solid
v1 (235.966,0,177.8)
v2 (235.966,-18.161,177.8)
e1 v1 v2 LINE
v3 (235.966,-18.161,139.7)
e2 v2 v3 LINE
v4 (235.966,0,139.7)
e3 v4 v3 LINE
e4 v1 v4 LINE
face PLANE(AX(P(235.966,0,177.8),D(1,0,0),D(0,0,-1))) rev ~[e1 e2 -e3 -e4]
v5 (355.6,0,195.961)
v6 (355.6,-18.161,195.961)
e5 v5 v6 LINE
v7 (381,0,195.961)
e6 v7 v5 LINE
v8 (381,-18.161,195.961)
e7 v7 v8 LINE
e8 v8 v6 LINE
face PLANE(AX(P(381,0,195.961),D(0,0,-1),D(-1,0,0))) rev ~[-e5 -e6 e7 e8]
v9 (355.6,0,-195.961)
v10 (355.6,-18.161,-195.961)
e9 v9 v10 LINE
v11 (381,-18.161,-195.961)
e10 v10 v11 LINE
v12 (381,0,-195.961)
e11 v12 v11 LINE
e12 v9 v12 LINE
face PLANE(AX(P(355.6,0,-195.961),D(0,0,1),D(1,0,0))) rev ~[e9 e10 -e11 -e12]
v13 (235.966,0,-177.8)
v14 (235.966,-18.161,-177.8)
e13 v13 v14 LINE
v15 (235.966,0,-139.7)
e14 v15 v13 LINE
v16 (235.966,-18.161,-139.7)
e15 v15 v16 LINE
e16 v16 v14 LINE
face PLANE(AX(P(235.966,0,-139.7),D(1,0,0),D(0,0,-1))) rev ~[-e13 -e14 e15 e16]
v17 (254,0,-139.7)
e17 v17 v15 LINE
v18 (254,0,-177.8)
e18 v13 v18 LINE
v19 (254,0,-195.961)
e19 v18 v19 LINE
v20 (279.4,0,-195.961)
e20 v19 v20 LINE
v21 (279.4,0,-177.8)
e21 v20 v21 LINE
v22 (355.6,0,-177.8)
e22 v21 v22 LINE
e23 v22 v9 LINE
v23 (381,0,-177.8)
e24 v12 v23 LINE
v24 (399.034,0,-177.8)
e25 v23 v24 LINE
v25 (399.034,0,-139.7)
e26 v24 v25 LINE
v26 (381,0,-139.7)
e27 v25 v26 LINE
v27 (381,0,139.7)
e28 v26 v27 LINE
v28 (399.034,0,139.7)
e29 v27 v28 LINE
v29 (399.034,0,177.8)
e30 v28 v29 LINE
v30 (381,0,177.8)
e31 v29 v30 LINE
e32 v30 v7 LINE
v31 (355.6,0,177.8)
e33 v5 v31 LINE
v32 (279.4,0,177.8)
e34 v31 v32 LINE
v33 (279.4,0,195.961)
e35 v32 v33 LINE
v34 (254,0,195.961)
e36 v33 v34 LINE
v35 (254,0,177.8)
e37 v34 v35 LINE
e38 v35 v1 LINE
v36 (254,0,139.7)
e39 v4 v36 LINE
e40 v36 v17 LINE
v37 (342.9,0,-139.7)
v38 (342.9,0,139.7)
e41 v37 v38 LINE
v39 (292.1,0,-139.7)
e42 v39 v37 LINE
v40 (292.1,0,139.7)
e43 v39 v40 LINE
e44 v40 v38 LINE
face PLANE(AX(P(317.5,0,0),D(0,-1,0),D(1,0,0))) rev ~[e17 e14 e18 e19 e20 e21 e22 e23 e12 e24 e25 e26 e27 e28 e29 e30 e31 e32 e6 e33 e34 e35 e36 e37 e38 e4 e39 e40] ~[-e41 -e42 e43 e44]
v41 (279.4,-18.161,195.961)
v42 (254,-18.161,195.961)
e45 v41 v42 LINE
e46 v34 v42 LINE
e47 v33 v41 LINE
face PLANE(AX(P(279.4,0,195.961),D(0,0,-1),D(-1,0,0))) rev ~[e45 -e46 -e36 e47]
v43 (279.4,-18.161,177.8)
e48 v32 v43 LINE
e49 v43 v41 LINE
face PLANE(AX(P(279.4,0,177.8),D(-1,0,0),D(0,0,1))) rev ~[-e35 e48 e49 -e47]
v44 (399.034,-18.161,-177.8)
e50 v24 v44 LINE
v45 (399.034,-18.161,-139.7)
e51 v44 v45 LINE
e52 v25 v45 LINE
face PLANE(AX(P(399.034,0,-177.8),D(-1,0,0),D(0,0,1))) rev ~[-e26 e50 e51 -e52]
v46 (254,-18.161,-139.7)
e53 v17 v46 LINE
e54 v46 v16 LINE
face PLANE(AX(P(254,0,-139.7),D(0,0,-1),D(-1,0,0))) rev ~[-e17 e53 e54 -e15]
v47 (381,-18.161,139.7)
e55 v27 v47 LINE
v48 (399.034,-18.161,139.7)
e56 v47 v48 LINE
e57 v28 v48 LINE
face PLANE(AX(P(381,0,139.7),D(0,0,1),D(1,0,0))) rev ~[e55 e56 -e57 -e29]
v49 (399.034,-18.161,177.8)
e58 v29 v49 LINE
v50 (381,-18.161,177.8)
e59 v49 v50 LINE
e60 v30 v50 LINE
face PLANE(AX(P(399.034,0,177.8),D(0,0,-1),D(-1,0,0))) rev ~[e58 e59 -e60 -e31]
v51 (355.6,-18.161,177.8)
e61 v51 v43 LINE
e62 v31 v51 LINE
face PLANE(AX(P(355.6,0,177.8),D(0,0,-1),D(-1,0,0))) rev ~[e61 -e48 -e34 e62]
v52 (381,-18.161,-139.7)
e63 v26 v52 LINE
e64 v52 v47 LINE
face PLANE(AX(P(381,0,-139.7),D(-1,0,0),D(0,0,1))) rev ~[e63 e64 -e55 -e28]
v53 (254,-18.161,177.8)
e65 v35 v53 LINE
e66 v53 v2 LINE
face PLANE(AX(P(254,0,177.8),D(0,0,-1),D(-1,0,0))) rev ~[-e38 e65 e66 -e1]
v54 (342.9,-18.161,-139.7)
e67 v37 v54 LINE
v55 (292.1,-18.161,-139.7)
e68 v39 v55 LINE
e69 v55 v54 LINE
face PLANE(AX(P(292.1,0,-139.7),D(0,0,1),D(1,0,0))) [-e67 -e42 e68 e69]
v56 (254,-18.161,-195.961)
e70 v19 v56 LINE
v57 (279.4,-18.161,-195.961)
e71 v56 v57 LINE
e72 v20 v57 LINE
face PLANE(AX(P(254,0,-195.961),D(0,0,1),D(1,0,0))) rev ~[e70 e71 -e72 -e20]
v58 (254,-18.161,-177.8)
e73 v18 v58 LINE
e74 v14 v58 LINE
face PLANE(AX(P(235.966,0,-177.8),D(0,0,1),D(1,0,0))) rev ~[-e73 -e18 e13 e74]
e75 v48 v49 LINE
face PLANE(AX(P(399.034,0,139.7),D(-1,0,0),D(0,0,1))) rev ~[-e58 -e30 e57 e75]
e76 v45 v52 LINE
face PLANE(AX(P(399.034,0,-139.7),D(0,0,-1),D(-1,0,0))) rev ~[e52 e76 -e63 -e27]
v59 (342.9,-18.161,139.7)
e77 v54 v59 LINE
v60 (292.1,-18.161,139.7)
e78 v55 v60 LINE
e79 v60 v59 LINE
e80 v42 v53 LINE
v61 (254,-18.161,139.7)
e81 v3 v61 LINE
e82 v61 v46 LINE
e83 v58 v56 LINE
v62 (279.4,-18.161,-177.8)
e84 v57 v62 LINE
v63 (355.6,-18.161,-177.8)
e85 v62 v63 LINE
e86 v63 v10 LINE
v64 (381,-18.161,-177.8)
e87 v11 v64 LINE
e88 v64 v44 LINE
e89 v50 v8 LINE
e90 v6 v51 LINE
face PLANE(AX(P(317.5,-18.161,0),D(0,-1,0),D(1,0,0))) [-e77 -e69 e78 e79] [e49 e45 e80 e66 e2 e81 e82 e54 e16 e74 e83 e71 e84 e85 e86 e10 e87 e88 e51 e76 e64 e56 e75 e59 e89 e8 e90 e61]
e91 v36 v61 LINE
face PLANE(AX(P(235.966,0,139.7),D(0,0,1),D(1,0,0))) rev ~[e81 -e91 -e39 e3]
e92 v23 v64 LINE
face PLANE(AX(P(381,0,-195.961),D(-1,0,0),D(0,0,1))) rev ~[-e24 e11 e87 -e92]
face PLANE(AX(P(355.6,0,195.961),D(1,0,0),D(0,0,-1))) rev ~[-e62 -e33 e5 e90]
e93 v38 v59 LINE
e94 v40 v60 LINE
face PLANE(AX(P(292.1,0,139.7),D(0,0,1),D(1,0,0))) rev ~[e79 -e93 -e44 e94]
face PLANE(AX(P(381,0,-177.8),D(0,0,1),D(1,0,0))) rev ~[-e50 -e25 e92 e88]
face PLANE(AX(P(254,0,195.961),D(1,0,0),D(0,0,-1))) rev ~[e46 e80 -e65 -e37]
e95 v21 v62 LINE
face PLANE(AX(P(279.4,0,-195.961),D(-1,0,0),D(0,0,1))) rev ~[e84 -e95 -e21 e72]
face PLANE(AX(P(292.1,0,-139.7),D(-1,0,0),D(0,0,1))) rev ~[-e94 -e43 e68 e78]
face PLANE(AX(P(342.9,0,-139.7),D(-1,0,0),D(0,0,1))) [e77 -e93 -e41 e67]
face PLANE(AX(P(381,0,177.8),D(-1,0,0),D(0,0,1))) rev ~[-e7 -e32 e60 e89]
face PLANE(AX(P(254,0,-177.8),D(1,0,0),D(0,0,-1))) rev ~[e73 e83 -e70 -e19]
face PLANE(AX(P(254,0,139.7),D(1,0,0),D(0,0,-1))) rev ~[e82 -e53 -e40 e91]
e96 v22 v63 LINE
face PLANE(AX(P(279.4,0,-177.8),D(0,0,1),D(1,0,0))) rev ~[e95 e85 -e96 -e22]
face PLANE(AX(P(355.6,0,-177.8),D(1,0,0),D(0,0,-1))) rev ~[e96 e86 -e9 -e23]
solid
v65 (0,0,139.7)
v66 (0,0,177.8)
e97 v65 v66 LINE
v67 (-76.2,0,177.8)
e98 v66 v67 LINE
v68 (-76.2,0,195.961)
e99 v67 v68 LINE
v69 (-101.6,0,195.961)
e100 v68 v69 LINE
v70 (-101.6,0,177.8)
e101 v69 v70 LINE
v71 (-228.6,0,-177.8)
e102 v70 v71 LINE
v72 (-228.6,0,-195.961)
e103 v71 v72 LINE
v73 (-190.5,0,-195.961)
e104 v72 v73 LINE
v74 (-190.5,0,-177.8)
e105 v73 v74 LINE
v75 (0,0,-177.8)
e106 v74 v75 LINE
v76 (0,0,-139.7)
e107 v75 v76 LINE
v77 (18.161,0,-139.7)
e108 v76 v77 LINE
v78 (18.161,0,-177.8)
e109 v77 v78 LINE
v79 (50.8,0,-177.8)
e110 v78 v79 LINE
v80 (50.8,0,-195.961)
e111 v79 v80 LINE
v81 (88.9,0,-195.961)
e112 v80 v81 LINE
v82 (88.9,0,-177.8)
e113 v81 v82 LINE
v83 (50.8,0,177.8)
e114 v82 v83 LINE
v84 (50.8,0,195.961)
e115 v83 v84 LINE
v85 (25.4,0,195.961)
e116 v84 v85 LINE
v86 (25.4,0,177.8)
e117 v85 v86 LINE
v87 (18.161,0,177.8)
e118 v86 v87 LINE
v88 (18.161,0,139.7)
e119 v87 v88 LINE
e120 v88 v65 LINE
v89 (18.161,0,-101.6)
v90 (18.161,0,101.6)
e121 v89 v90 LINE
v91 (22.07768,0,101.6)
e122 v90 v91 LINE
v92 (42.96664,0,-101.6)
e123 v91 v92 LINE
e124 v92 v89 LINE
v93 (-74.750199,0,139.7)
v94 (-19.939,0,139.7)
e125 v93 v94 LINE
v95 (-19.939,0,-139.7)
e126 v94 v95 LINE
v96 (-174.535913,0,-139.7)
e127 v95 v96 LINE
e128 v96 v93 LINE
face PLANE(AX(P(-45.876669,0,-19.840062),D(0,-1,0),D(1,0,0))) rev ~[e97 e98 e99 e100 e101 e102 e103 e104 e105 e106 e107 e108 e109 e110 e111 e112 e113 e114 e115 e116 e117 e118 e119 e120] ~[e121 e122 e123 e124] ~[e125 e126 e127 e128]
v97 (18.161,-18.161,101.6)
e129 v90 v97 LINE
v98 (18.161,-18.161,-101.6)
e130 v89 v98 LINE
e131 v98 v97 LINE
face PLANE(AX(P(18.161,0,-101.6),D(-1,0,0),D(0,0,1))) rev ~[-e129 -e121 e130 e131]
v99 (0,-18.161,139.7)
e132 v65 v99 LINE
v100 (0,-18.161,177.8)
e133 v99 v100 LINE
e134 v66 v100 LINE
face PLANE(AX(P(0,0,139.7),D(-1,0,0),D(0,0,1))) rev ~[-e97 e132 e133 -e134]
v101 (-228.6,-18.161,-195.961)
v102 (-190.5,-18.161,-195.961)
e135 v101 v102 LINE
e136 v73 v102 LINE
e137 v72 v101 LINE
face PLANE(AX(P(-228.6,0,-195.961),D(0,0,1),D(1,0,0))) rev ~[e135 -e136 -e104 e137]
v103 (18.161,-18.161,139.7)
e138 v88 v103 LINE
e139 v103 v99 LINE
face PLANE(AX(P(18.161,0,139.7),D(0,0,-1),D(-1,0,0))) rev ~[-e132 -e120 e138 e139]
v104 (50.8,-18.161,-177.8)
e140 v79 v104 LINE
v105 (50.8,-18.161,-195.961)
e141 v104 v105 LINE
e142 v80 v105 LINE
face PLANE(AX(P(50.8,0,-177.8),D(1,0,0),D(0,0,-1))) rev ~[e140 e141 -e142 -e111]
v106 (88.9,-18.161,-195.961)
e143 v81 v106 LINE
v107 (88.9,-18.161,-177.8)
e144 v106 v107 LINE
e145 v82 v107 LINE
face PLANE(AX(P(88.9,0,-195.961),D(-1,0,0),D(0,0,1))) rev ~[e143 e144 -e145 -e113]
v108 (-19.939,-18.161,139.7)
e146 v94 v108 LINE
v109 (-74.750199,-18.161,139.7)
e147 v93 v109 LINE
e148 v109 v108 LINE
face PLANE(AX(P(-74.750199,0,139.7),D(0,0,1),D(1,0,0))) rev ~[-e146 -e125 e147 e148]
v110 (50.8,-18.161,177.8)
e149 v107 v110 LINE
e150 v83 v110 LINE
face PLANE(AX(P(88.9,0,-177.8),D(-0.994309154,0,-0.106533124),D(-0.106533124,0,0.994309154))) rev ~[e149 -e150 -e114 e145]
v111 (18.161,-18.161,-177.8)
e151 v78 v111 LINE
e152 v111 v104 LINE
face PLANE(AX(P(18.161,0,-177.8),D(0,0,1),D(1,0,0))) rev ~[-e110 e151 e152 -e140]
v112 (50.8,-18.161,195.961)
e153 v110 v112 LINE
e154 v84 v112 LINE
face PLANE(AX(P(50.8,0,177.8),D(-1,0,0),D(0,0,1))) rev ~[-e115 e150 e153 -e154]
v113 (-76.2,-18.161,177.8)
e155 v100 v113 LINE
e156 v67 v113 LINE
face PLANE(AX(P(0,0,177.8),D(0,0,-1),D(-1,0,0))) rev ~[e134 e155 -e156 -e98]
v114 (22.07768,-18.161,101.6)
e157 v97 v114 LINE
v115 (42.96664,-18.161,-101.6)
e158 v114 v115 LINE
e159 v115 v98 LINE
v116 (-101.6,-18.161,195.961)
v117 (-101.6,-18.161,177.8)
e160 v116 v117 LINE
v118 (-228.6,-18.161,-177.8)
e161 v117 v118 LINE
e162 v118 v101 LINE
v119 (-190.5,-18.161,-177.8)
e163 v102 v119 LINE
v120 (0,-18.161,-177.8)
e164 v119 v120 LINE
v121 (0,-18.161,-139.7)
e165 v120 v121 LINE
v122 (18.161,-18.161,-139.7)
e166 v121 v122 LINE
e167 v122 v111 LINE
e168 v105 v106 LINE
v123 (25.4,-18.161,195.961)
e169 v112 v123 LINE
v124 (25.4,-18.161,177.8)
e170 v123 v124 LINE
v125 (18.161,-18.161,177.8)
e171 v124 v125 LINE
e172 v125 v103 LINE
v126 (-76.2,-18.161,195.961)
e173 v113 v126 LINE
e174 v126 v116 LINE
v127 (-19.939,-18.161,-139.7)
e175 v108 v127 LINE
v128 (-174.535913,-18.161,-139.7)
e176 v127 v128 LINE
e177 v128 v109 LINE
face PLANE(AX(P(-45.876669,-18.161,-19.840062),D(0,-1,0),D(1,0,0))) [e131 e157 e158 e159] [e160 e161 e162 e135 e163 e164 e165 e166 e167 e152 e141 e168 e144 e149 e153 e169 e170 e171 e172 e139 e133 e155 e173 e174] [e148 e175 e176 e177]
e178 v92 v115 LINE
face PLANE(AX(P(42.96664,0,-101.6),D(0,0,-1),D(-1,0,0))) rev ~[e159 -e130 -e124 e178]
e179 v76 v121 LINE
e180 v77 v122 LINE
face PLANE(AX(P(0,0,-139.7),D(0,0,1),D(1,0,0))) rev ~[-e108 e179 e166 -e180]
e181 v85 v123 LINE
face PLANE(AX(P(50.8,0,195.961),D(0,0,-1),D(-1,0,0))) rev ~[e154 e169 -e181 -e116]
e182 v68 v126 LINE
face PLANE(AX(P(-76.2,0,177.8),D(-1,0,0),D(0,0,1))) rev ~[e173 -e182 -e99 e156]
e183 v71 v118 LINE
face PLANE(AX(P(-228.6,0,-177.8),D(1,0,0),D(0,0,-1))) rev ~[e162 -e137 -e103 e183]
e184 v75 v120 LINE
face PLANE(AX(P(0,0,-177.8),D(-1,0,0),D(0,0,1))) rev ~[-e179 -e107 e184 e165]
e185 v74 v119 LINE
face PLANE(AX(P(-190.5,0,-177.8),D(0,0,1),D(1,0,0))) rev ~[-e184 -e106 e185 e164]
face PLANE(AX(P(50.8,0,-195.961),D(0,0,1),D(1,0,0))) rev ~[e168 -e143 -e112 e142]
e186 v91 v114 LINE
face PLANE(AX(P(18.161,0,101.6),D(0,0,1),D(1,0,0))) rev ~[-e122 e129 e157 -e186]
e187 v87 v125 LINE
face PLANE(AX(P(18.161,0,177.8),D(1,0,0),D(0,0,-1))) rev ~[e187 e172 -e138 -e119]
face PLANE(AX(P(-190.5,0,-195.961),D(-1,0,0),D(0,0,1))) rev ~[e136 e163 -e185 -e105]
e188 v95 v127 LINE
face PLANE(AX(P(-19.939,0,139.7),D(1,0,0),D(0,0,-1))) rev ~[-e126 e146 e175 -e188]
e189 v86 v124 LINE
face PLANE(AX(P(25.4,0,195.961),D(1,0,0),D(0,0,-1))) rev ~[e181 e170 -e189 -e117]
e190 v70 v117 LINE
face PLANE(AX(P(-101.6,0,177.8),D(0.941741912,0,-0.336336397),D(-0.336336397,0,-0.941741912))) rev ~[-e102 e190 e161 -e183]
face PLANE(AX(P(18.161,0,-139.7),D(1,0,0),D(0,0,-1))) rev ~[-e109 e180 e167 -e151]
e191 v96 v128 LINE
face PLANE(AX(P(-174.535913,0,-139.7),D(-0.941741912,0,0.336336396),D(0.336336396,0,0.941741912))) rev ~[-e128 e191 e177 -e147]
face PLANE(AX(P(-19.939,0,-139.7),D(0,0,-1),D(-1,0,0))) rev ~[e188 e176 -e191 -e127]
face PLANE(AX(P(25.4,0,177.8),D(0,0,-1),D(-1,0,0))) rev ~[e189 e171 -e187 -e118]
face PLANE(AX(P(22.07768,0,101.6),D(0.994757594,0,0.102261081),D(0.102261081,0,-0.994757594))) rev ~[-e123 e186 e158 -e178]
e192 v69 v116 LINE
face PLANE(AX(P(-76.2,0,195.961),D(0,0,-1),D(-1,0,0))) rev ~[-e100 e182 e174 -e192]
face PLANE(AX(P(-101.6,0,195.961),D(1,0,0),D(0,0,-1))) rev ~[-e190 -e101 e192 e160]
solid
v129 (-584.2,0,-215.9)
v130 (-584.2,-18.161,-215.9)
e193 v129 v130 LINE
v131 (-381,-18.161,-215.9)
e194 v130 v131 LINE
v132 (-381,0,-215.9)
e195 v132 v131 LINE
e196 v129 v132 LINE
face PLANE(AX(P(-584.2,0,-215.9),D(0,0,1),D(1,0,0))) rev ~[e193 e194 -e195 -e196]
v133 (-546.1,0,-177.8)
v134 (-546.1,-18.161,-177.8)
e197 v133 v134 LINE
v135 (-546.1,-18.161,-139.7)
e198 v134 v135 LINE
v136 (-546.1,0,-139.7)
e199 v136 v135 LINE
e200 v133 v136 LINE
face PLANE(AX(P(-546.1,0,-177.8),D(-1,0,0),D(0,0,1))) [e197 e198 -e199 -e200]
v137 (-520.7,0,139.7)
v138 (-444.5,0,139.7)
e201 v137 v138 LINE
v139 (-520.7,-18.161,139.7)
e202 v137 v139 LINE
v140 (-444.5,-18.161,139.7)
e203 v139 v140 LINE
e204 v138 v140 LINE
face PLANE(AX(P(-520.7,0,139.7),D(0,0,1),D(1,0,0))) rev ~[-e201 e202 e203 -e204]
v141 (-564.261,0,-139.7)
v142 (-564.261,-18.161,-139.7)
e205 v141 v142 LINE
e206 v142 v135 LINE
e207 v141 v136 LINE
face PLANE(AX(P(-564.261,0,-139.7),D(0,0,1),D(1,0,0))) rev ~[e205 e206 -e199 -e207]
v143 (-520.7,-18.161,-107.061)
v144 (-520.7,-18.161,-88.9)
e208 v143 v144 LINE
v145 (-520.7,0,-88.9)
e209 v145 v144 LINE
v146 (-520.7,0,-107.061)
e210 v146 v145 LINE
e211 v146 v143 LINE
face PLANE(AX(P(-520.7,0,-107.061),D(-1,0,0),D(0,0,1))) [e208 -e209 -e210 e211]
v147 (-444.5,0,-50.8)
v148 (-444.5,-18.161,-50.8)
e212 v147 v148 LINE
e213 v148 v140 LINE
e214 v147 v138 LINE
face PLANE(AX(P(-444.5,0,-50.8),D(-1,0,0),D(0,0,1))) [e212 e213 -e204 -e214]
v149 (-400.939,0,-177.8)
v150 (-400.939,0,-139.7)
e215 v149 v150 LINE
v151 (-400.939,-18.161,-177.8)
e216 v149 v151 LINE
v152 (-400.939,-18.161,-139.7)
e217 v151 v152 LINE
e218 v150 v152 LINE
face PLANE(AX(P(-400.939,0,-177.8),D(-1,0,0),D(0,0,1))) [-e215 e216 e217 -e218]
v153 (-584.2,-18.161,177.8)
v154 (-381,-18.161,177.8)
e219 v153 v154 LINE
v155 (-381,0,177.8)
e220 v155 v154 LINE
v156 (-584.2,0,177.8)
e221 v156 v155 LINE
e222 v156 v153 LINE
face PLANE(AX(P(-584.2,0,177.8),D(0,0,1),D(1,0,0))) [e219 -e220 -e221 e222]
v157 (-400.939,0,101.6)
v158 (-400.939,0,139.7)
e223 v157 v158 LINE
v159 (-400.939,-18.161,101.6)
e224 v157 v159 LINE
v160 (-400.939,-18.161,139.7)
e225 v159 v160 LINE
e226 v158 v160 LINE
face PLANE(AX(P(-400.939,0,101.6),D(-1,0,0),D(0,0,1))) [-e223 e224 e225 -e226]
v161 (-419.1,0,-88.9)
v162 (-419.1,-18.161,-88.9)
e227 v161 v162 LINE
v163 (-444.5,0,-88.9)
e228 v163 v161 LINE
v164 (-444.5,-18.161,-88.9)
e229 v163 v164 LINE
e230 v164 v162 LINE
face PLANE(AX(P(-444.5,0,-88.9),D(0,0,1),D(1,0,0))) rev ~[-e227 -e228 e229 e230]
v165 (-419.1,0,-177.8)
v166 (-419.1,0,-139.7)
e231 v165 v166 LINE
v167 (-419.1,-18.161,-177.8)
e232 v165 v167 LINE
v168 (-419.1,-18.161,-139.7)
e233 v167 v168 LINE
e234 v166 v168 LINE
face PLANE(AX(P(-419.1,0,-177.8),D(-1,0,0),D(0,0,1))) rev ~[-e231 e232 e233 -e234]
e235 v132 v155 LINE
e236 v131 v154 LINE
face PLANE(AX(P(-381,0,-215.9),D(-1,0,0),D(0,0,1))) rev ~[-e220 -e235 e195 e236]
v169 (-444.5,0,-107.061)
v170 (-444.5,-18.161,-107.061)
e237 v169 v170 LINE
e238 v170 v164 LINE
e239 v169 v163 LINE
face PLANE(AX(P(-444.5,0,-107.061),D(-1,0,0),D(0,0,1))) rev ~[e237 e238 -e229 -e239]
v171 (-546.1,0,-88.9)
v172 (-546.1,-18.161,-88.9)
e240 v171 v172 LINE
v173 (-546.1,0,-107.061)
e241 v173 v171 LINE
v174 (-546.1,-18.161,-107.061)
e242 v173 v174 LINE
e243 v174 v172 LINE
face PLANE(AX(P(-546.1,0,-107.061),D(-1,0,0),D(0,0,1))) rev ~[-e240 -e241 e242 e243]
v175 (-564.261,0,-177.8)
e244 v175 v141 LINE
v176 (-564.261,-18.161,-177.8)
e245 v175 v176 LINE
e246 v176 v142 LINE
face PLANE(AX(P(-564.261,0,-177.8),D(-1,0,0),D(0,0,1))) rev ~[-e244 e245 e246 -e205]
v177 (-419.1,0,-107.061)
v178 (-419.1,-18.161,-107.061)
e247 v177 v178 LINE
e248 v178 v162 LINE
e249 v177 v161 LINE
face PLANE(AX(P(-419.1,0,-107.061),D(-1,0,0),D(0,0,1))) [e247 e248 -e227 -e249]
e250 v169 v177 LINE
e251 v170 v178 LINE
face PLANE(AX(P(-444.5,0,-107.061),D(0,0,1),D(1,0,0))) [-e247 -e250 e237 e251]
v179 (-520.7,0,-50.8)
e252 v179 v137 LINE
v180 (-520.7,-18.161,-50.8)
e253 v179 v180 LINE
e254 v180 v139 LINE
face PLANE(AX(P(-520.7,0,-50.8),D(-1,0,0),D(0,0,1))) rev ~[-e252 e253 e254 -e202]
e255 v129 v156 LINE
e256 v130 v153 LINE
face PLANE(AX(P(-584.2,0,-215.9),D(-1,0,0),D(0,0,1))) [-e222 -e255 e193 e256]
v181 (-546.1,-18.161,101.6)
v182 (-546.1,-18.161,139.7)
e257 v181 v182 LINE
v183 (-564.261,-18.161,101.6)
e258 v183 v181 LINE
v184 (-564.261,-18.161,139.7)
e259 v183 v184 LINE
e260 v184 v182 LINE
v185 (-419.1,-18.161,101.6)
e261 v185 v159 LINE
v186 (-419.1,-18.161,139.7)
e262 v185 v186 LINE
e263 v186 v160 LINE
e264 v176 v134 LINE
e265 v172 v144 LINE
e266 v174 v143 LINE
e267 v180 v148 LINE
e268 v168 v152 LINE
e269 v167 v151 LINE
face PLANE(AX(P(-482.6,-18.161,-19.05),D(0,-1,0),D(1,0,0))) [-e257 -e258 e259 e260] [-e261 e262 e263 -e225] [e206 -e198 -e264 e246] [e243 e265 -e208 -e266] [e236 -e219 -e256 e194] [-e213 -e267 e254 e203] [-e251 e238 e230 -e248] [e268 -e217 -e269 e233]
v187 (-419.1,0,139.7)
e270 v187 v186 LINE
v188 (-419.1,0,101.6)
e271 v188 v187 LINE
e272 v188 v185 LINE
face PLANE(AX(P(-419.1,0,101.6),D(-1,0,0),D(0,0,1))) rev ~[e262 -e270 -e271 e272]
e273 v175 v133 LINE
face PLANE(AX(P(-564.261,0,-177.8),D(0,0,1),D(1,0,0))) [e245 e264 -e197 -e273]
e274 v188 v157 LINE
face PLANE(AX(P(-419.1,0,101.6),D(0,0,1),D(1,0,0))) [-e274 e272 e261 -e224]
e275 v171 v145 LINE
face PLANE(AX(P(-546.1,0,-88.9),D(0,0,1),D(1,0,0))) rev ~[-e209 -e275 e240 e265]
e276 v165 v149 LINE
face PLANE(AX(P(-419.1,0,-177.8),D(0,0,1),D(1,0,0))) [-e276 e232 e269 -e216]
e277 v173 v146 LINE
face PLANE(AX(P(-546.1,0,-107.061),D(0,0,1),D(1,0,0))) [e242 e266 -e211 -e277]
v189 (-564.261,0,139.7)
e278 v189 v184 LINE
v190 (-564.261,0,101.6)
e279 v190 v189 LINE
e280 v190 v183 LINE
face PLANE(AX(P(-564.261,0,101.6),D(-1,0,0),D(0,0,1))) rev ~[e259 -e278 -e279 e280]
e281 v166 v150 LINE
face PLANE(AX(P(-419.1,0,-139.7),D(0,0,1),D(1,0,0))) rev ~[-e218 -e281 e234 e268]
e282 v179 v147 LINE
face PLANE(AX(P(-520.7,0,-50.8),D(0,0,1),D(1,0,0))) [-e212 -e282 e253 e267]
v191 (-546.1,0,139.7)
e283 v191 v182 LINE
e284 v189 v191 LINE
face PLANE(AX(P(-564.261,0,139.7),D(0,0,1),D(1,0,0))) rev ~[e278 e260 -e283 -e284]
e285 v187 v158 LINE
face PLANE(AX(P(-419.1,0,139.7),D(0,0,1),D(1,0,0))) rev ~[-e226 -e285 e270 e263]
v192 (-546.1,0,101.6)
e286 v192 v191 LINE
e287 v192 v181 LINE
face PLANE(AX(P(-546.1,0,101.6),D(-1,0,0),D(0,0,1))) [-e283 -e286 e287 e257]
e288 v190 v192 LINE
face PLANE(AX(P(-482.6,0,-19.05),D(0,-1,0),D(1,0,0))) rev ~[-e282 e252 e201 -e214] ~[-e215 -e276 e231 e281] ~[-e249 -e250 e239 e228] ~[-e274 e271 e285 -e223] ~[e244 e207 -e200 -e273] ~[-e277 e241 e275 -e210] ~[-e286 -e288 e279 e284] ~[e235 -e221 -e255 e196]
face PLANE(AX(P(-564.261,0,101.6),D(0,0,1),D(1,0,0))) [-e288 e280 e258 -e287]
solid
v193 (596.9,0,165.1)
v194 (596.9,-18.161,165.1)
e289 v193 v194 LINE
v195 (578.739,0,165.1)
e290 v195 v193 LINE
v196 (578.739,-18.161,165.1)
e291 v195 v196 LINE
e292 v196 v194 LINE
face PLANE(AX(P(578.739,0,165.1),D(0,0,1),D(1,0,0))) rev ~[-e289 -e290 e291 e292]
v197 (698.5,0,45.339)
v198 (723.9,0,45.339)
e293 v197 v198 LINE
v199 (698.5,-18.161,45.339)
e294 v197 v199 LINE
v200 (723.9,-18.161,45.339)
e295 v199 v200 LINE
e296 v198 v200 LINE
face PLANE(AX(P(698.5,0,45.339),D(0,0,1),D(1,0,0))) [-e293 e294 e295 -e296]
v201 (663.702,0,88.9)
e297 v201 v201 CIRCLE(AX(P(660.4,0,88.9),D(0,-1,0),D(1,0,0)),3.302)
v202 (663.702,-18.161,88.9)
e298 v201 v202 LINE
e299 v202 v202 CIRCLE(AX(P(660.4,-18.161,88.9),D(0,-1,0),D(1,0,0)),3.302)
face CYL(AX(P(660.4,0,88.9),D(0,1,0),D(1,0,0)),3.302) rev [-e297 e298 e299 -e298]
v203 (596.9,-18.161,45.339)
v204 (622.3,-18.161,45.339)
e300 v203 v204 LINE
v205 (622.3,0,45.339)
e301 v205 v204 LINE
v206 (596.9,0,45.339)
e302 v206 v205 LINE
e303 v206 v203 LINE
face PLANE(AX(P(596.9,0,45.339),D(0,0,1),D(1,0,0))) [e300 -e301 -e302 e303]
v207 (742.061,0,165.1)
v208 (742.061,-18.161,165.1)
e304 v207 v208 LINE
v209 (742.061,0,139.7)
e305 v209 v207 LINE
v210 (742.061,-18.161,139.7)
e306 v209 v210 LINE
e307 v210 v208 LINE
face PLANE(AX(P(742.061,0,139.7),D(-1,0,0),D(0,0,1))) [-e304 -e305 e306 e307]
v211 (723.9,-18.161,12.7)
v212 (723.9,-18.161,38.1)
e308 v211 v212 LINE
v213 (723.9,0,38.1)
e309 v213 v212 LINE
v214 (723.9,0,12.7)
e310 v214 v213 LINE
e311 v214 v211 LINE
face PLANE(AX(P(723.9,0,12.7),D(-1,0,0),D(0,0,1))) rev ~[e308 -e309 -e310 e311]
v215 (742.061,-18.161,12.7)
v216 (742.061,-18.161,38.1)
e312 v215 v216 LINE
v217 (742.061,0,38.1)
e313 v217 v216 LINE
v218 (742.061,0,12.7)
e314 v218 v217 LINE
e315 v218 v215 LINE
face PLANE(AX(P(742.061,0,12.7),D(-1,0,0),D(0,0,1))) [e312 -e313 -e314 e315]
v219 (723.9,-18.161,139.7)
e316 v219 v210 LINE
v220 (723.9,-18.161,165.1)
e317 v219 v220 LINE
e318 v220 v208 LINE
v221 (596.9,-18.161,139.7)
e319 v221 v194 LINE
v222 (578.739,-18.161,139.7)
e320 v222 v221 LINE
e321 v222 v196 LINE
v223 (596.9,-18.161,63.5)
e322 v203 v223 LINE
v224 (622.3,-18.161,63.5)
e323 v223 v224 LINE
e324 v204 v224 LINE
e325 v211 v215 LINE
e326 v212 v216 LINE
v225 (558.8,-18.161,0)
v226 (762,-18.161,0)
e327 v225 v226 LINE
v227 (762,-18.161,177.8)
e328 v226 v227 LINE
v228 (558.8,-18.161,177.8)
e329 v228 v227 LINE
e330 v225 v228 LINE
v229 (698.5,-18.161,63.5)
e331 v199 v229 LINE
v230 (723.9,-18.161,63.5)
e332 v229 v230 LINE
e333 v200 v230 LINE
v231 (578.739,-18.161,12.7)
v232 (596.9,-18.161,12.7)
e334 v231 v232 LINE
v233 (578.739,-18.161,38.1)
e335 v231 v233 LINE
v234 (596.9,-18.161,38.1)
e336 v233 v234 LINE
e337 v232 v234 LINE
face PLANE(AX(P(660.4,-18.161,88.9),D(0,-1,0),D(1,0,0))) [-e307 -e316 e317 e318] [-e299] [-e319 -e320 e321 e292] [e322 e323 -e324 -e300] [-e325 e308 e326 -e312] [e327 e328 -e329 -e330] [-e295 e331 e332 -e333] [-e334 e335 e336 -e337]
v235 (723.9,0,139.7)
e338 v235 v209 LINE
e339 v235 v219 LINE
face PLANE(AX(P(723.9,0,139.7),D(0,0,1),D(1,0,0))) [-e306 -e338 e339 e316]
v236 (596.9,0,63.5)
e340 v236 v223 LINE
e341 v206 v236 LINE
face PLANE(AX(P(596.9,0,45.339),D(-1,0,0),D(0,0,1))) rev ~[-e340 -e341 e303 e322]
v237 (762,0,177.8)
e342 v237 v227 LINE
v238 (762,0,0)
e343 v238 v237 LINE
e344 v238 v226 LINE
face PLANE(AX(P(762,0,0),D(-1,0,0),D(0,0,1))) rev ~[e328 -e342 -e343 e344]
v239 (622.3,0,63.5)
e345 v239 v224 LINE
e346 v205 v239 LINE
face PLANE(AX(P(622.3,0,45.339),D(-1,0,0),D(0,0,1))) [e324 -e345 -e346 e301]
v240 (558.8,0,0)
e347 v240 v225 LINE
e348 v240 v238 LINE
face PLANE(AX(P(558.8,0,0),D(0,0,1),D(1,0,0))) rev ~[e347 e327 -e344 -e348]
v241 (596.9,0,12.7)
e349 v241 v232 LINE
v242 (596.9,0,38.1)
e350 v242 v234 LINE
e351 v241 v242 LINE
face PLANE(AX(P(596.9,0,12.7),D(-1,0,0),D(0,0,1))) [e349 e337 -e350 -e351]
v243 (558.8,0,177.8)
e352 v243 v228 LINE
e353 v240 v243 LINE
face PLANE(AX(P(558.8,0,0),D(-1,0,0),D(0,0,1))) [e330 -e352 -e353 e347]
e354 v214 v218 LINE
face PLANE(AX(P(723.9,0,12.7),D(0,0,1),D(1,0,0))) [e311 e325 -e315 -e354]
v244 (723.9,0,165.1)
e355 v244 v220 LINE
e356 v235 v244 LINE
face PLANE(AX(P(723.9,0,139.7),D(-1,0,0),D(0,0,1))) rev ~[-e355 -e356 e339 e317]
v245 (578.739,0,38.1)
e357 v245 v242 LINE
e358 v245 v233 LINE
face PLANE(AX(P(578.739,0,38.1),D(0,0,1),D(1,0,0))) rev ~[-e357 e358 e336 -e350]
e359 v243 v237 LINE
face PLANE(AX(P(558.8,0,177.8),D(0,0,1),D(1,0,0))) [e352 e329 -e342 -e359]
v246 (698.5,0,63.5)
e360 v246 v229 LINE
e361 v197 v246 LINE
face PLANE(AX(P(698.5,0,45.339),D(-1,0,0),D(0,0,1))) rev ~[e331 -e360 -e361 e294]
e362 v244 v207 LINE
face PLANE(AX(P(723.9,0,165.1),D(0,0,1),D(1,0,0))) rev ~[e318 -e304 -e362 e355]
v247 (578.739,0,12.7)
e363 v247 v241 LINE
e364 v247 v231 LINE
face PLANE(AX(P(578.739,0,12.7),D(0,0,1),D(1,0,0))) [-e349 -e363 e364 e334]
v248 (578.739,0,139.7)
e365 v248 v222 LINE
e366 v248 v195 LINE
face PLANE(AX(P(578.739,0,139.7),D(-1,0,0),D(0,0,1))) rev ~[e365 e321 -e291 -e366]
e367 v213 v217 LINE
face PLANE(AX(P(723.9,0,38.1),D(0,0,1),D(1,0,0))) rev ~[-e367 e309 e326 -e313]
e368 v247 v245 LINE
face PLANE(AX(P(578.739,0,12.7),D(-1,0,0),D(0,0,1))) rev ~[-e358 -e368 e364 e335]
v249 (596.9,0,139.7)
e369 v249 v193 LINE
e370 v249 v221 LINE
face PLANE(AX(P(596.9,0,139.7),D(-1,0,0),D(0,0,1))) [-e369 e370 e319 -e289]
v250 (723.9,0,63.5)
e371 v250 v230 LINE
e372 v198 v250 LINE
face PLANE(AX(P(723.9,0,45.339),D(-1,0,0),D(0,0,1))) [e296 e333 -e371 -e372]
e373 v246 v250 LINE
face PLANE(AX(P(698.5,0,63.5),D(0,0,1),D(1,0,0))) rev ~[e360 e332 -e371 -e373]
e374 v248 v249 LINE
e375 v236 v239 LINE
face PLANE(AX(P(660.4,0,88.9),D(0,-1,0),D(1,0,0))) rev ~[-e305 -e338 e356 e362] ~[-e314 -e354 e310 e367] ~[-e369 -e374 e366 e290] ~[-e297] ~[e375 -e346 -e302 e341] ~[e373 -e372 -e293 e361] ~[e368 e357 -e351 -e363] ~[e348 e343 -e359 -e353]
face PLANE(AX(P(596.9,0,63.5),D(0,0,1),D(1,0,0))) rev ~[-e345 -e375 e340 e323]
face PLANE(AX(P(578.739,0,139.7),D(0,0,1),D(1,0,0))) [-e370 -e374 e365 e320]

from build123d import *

# Parameters (mm, degrees)
F0_W     = 50.8
F0_H     = 279.4
F0_W_2   = 203.2
F0_H_2   = 177.8
F0_W_3   = 18.161
F0_H_3   = 25.4
F0_W_4   = 25.4
F0_H_4   = 18.161
F0_R     = 3.302
F0_H_5   = 393.7
F0_H_6   = 38.1
F0_W_5   = 76.2
F0_H_7   = 190.5
F1_DEPTH = 18.161


with BuildPart() as f1:
    # F0 (on Front) → F1 (new body)
    with BuildSketch(Plane.XZ):
        Polygon((0, 139.7), (0, 177.8), (-76.2, 177.8), (-76.2, 195.961), (-101.6, 195.961), (-101.6, 177.8), (-228.6, -177.8), (-228.6, -195.961), (-190.5, -195.961), (-190.5, -177.8), (0, -177.8), (0, -139.7), (18.161, -139.7), (18.161, -177.8), (50.8, -177.8), (50.8, -195.961), (88.9, -195.961), (88.9, -177.8), (50.8, 177.8), (50.8, 195.961), (25.4, 195.961), (25.4, 177.8), (18.161, 177.8), (18.161, 139.7), align=None)
        Polygon((-74.750199, 139.7), (-19.939, 139.7), (-19.939, -139.7), (-174.535913, -139.7), align=None, mode=Mode.SUBTRACT)
        Polygon((18.161, 101.6), (22.07768, 101.6), (42.96664, -101.6), (18.161, -101.6), align=None, mode=Mode.SUBTRACT)
        Polygon((355.6, 177.8), (279.4, 177.8), (279.4, 195.961), (254, 195.961), (254, 177.8), (235.966, 177.8), (235.966, 139.7), (254, 139.7), (254, -139.7), (235.966, -139.7), (235.966, -177.8), (254, -177.8), (254, -195.961), (279.4, -195.961), (279.4, -177.8), (355.6, -177.8), (355.6, -195.961), (381, -195.961), (381, -177.8), (399.034, -177.8), (399.034, -139.7), (381, -139.7), (381, 139.7), (399.034, 139.7), (399.034, 177.8), (381, 177.8), (381, 195.961), (355.6, 195.961), align=None)
        with Locations((317.5, 0)):
            Rectangle(F0_W, F0_H, mode=Mode.SUBTRACT)
        with Locations((660.4, 88.9)):
            Rectangle(F0_W_2, F0_H_2)
        with Locations((587.8195, 25.4)):
            Rectangle(F0_W_3, F0_H_3, mode=Mode.SUBTRACT)
        with Locations((732.9805, 25.4)):
            Rectangle(F0_W_3, F0_H_3, mode=Mode.SUBTRACT)
        with Locations((609.6, 54.4195)):
            Rectangle(F0_W_4, F0_H_4, mode=Mode.SUBTRACT)
        with Locations((711.2, 54.4195)):
            Rectangle(F0_W_4, F0_H_4, mode=Mode.SUBTRACT)
        with Locations((660.4, 88.9)):
            Circle(F0_R, mode=Mode.SUBTRACT)
        with Locations((587.8195, 152.4)):
            Rectangle(F0_W_3, F0_H_3, mode=Mode.SUBTRACT)
        with Locations((732.9805, 152.4)):
            Rectangle(F0_W_3, F0_H_3, mode=Mode.SUBTRACT)
        with Locations((-482.6, -19.05)):
            Rectangle(F0_W_2, F0_H_5)
        with Locations((-555.1805, -158.75)):
            Rectangle(F0_W_3, F0_H_6, mode=Mode.SUBTRACT)
        with Locations((-410.0195, -158.75)):
            Rectangle(F0_W_3, F0_H_6, mode=Mode.SUBTRACT)
        with Locations((-533.4, -97.9805)):
            Rectangle(F0_W_4, F0_H_4, mode=Mode.SUBTRACT)
        with Locations((-431.8, -97.9805)):
            Rectangle(F0_W_4, F0_H_4, mode=Mode.SUBTRACT)
        with Locations((-482.6, 44.45)):
            Rectangle(F0_W_5, F0_H_7, mode=Mode.SUBTRACT)
        with Locations((-555.1805, 120.65)):
            Rectangle(F0_W_3, F0_H_6, mode=Mode.SUBTRACT)
        with Locations((-410.0195, 120.65)):
            Rectangle(F0_W_3, F0_H_6, mode=Mode.SUBTRACT)
    extrude(amount=F1_DEPTH)


solid = f1.part
